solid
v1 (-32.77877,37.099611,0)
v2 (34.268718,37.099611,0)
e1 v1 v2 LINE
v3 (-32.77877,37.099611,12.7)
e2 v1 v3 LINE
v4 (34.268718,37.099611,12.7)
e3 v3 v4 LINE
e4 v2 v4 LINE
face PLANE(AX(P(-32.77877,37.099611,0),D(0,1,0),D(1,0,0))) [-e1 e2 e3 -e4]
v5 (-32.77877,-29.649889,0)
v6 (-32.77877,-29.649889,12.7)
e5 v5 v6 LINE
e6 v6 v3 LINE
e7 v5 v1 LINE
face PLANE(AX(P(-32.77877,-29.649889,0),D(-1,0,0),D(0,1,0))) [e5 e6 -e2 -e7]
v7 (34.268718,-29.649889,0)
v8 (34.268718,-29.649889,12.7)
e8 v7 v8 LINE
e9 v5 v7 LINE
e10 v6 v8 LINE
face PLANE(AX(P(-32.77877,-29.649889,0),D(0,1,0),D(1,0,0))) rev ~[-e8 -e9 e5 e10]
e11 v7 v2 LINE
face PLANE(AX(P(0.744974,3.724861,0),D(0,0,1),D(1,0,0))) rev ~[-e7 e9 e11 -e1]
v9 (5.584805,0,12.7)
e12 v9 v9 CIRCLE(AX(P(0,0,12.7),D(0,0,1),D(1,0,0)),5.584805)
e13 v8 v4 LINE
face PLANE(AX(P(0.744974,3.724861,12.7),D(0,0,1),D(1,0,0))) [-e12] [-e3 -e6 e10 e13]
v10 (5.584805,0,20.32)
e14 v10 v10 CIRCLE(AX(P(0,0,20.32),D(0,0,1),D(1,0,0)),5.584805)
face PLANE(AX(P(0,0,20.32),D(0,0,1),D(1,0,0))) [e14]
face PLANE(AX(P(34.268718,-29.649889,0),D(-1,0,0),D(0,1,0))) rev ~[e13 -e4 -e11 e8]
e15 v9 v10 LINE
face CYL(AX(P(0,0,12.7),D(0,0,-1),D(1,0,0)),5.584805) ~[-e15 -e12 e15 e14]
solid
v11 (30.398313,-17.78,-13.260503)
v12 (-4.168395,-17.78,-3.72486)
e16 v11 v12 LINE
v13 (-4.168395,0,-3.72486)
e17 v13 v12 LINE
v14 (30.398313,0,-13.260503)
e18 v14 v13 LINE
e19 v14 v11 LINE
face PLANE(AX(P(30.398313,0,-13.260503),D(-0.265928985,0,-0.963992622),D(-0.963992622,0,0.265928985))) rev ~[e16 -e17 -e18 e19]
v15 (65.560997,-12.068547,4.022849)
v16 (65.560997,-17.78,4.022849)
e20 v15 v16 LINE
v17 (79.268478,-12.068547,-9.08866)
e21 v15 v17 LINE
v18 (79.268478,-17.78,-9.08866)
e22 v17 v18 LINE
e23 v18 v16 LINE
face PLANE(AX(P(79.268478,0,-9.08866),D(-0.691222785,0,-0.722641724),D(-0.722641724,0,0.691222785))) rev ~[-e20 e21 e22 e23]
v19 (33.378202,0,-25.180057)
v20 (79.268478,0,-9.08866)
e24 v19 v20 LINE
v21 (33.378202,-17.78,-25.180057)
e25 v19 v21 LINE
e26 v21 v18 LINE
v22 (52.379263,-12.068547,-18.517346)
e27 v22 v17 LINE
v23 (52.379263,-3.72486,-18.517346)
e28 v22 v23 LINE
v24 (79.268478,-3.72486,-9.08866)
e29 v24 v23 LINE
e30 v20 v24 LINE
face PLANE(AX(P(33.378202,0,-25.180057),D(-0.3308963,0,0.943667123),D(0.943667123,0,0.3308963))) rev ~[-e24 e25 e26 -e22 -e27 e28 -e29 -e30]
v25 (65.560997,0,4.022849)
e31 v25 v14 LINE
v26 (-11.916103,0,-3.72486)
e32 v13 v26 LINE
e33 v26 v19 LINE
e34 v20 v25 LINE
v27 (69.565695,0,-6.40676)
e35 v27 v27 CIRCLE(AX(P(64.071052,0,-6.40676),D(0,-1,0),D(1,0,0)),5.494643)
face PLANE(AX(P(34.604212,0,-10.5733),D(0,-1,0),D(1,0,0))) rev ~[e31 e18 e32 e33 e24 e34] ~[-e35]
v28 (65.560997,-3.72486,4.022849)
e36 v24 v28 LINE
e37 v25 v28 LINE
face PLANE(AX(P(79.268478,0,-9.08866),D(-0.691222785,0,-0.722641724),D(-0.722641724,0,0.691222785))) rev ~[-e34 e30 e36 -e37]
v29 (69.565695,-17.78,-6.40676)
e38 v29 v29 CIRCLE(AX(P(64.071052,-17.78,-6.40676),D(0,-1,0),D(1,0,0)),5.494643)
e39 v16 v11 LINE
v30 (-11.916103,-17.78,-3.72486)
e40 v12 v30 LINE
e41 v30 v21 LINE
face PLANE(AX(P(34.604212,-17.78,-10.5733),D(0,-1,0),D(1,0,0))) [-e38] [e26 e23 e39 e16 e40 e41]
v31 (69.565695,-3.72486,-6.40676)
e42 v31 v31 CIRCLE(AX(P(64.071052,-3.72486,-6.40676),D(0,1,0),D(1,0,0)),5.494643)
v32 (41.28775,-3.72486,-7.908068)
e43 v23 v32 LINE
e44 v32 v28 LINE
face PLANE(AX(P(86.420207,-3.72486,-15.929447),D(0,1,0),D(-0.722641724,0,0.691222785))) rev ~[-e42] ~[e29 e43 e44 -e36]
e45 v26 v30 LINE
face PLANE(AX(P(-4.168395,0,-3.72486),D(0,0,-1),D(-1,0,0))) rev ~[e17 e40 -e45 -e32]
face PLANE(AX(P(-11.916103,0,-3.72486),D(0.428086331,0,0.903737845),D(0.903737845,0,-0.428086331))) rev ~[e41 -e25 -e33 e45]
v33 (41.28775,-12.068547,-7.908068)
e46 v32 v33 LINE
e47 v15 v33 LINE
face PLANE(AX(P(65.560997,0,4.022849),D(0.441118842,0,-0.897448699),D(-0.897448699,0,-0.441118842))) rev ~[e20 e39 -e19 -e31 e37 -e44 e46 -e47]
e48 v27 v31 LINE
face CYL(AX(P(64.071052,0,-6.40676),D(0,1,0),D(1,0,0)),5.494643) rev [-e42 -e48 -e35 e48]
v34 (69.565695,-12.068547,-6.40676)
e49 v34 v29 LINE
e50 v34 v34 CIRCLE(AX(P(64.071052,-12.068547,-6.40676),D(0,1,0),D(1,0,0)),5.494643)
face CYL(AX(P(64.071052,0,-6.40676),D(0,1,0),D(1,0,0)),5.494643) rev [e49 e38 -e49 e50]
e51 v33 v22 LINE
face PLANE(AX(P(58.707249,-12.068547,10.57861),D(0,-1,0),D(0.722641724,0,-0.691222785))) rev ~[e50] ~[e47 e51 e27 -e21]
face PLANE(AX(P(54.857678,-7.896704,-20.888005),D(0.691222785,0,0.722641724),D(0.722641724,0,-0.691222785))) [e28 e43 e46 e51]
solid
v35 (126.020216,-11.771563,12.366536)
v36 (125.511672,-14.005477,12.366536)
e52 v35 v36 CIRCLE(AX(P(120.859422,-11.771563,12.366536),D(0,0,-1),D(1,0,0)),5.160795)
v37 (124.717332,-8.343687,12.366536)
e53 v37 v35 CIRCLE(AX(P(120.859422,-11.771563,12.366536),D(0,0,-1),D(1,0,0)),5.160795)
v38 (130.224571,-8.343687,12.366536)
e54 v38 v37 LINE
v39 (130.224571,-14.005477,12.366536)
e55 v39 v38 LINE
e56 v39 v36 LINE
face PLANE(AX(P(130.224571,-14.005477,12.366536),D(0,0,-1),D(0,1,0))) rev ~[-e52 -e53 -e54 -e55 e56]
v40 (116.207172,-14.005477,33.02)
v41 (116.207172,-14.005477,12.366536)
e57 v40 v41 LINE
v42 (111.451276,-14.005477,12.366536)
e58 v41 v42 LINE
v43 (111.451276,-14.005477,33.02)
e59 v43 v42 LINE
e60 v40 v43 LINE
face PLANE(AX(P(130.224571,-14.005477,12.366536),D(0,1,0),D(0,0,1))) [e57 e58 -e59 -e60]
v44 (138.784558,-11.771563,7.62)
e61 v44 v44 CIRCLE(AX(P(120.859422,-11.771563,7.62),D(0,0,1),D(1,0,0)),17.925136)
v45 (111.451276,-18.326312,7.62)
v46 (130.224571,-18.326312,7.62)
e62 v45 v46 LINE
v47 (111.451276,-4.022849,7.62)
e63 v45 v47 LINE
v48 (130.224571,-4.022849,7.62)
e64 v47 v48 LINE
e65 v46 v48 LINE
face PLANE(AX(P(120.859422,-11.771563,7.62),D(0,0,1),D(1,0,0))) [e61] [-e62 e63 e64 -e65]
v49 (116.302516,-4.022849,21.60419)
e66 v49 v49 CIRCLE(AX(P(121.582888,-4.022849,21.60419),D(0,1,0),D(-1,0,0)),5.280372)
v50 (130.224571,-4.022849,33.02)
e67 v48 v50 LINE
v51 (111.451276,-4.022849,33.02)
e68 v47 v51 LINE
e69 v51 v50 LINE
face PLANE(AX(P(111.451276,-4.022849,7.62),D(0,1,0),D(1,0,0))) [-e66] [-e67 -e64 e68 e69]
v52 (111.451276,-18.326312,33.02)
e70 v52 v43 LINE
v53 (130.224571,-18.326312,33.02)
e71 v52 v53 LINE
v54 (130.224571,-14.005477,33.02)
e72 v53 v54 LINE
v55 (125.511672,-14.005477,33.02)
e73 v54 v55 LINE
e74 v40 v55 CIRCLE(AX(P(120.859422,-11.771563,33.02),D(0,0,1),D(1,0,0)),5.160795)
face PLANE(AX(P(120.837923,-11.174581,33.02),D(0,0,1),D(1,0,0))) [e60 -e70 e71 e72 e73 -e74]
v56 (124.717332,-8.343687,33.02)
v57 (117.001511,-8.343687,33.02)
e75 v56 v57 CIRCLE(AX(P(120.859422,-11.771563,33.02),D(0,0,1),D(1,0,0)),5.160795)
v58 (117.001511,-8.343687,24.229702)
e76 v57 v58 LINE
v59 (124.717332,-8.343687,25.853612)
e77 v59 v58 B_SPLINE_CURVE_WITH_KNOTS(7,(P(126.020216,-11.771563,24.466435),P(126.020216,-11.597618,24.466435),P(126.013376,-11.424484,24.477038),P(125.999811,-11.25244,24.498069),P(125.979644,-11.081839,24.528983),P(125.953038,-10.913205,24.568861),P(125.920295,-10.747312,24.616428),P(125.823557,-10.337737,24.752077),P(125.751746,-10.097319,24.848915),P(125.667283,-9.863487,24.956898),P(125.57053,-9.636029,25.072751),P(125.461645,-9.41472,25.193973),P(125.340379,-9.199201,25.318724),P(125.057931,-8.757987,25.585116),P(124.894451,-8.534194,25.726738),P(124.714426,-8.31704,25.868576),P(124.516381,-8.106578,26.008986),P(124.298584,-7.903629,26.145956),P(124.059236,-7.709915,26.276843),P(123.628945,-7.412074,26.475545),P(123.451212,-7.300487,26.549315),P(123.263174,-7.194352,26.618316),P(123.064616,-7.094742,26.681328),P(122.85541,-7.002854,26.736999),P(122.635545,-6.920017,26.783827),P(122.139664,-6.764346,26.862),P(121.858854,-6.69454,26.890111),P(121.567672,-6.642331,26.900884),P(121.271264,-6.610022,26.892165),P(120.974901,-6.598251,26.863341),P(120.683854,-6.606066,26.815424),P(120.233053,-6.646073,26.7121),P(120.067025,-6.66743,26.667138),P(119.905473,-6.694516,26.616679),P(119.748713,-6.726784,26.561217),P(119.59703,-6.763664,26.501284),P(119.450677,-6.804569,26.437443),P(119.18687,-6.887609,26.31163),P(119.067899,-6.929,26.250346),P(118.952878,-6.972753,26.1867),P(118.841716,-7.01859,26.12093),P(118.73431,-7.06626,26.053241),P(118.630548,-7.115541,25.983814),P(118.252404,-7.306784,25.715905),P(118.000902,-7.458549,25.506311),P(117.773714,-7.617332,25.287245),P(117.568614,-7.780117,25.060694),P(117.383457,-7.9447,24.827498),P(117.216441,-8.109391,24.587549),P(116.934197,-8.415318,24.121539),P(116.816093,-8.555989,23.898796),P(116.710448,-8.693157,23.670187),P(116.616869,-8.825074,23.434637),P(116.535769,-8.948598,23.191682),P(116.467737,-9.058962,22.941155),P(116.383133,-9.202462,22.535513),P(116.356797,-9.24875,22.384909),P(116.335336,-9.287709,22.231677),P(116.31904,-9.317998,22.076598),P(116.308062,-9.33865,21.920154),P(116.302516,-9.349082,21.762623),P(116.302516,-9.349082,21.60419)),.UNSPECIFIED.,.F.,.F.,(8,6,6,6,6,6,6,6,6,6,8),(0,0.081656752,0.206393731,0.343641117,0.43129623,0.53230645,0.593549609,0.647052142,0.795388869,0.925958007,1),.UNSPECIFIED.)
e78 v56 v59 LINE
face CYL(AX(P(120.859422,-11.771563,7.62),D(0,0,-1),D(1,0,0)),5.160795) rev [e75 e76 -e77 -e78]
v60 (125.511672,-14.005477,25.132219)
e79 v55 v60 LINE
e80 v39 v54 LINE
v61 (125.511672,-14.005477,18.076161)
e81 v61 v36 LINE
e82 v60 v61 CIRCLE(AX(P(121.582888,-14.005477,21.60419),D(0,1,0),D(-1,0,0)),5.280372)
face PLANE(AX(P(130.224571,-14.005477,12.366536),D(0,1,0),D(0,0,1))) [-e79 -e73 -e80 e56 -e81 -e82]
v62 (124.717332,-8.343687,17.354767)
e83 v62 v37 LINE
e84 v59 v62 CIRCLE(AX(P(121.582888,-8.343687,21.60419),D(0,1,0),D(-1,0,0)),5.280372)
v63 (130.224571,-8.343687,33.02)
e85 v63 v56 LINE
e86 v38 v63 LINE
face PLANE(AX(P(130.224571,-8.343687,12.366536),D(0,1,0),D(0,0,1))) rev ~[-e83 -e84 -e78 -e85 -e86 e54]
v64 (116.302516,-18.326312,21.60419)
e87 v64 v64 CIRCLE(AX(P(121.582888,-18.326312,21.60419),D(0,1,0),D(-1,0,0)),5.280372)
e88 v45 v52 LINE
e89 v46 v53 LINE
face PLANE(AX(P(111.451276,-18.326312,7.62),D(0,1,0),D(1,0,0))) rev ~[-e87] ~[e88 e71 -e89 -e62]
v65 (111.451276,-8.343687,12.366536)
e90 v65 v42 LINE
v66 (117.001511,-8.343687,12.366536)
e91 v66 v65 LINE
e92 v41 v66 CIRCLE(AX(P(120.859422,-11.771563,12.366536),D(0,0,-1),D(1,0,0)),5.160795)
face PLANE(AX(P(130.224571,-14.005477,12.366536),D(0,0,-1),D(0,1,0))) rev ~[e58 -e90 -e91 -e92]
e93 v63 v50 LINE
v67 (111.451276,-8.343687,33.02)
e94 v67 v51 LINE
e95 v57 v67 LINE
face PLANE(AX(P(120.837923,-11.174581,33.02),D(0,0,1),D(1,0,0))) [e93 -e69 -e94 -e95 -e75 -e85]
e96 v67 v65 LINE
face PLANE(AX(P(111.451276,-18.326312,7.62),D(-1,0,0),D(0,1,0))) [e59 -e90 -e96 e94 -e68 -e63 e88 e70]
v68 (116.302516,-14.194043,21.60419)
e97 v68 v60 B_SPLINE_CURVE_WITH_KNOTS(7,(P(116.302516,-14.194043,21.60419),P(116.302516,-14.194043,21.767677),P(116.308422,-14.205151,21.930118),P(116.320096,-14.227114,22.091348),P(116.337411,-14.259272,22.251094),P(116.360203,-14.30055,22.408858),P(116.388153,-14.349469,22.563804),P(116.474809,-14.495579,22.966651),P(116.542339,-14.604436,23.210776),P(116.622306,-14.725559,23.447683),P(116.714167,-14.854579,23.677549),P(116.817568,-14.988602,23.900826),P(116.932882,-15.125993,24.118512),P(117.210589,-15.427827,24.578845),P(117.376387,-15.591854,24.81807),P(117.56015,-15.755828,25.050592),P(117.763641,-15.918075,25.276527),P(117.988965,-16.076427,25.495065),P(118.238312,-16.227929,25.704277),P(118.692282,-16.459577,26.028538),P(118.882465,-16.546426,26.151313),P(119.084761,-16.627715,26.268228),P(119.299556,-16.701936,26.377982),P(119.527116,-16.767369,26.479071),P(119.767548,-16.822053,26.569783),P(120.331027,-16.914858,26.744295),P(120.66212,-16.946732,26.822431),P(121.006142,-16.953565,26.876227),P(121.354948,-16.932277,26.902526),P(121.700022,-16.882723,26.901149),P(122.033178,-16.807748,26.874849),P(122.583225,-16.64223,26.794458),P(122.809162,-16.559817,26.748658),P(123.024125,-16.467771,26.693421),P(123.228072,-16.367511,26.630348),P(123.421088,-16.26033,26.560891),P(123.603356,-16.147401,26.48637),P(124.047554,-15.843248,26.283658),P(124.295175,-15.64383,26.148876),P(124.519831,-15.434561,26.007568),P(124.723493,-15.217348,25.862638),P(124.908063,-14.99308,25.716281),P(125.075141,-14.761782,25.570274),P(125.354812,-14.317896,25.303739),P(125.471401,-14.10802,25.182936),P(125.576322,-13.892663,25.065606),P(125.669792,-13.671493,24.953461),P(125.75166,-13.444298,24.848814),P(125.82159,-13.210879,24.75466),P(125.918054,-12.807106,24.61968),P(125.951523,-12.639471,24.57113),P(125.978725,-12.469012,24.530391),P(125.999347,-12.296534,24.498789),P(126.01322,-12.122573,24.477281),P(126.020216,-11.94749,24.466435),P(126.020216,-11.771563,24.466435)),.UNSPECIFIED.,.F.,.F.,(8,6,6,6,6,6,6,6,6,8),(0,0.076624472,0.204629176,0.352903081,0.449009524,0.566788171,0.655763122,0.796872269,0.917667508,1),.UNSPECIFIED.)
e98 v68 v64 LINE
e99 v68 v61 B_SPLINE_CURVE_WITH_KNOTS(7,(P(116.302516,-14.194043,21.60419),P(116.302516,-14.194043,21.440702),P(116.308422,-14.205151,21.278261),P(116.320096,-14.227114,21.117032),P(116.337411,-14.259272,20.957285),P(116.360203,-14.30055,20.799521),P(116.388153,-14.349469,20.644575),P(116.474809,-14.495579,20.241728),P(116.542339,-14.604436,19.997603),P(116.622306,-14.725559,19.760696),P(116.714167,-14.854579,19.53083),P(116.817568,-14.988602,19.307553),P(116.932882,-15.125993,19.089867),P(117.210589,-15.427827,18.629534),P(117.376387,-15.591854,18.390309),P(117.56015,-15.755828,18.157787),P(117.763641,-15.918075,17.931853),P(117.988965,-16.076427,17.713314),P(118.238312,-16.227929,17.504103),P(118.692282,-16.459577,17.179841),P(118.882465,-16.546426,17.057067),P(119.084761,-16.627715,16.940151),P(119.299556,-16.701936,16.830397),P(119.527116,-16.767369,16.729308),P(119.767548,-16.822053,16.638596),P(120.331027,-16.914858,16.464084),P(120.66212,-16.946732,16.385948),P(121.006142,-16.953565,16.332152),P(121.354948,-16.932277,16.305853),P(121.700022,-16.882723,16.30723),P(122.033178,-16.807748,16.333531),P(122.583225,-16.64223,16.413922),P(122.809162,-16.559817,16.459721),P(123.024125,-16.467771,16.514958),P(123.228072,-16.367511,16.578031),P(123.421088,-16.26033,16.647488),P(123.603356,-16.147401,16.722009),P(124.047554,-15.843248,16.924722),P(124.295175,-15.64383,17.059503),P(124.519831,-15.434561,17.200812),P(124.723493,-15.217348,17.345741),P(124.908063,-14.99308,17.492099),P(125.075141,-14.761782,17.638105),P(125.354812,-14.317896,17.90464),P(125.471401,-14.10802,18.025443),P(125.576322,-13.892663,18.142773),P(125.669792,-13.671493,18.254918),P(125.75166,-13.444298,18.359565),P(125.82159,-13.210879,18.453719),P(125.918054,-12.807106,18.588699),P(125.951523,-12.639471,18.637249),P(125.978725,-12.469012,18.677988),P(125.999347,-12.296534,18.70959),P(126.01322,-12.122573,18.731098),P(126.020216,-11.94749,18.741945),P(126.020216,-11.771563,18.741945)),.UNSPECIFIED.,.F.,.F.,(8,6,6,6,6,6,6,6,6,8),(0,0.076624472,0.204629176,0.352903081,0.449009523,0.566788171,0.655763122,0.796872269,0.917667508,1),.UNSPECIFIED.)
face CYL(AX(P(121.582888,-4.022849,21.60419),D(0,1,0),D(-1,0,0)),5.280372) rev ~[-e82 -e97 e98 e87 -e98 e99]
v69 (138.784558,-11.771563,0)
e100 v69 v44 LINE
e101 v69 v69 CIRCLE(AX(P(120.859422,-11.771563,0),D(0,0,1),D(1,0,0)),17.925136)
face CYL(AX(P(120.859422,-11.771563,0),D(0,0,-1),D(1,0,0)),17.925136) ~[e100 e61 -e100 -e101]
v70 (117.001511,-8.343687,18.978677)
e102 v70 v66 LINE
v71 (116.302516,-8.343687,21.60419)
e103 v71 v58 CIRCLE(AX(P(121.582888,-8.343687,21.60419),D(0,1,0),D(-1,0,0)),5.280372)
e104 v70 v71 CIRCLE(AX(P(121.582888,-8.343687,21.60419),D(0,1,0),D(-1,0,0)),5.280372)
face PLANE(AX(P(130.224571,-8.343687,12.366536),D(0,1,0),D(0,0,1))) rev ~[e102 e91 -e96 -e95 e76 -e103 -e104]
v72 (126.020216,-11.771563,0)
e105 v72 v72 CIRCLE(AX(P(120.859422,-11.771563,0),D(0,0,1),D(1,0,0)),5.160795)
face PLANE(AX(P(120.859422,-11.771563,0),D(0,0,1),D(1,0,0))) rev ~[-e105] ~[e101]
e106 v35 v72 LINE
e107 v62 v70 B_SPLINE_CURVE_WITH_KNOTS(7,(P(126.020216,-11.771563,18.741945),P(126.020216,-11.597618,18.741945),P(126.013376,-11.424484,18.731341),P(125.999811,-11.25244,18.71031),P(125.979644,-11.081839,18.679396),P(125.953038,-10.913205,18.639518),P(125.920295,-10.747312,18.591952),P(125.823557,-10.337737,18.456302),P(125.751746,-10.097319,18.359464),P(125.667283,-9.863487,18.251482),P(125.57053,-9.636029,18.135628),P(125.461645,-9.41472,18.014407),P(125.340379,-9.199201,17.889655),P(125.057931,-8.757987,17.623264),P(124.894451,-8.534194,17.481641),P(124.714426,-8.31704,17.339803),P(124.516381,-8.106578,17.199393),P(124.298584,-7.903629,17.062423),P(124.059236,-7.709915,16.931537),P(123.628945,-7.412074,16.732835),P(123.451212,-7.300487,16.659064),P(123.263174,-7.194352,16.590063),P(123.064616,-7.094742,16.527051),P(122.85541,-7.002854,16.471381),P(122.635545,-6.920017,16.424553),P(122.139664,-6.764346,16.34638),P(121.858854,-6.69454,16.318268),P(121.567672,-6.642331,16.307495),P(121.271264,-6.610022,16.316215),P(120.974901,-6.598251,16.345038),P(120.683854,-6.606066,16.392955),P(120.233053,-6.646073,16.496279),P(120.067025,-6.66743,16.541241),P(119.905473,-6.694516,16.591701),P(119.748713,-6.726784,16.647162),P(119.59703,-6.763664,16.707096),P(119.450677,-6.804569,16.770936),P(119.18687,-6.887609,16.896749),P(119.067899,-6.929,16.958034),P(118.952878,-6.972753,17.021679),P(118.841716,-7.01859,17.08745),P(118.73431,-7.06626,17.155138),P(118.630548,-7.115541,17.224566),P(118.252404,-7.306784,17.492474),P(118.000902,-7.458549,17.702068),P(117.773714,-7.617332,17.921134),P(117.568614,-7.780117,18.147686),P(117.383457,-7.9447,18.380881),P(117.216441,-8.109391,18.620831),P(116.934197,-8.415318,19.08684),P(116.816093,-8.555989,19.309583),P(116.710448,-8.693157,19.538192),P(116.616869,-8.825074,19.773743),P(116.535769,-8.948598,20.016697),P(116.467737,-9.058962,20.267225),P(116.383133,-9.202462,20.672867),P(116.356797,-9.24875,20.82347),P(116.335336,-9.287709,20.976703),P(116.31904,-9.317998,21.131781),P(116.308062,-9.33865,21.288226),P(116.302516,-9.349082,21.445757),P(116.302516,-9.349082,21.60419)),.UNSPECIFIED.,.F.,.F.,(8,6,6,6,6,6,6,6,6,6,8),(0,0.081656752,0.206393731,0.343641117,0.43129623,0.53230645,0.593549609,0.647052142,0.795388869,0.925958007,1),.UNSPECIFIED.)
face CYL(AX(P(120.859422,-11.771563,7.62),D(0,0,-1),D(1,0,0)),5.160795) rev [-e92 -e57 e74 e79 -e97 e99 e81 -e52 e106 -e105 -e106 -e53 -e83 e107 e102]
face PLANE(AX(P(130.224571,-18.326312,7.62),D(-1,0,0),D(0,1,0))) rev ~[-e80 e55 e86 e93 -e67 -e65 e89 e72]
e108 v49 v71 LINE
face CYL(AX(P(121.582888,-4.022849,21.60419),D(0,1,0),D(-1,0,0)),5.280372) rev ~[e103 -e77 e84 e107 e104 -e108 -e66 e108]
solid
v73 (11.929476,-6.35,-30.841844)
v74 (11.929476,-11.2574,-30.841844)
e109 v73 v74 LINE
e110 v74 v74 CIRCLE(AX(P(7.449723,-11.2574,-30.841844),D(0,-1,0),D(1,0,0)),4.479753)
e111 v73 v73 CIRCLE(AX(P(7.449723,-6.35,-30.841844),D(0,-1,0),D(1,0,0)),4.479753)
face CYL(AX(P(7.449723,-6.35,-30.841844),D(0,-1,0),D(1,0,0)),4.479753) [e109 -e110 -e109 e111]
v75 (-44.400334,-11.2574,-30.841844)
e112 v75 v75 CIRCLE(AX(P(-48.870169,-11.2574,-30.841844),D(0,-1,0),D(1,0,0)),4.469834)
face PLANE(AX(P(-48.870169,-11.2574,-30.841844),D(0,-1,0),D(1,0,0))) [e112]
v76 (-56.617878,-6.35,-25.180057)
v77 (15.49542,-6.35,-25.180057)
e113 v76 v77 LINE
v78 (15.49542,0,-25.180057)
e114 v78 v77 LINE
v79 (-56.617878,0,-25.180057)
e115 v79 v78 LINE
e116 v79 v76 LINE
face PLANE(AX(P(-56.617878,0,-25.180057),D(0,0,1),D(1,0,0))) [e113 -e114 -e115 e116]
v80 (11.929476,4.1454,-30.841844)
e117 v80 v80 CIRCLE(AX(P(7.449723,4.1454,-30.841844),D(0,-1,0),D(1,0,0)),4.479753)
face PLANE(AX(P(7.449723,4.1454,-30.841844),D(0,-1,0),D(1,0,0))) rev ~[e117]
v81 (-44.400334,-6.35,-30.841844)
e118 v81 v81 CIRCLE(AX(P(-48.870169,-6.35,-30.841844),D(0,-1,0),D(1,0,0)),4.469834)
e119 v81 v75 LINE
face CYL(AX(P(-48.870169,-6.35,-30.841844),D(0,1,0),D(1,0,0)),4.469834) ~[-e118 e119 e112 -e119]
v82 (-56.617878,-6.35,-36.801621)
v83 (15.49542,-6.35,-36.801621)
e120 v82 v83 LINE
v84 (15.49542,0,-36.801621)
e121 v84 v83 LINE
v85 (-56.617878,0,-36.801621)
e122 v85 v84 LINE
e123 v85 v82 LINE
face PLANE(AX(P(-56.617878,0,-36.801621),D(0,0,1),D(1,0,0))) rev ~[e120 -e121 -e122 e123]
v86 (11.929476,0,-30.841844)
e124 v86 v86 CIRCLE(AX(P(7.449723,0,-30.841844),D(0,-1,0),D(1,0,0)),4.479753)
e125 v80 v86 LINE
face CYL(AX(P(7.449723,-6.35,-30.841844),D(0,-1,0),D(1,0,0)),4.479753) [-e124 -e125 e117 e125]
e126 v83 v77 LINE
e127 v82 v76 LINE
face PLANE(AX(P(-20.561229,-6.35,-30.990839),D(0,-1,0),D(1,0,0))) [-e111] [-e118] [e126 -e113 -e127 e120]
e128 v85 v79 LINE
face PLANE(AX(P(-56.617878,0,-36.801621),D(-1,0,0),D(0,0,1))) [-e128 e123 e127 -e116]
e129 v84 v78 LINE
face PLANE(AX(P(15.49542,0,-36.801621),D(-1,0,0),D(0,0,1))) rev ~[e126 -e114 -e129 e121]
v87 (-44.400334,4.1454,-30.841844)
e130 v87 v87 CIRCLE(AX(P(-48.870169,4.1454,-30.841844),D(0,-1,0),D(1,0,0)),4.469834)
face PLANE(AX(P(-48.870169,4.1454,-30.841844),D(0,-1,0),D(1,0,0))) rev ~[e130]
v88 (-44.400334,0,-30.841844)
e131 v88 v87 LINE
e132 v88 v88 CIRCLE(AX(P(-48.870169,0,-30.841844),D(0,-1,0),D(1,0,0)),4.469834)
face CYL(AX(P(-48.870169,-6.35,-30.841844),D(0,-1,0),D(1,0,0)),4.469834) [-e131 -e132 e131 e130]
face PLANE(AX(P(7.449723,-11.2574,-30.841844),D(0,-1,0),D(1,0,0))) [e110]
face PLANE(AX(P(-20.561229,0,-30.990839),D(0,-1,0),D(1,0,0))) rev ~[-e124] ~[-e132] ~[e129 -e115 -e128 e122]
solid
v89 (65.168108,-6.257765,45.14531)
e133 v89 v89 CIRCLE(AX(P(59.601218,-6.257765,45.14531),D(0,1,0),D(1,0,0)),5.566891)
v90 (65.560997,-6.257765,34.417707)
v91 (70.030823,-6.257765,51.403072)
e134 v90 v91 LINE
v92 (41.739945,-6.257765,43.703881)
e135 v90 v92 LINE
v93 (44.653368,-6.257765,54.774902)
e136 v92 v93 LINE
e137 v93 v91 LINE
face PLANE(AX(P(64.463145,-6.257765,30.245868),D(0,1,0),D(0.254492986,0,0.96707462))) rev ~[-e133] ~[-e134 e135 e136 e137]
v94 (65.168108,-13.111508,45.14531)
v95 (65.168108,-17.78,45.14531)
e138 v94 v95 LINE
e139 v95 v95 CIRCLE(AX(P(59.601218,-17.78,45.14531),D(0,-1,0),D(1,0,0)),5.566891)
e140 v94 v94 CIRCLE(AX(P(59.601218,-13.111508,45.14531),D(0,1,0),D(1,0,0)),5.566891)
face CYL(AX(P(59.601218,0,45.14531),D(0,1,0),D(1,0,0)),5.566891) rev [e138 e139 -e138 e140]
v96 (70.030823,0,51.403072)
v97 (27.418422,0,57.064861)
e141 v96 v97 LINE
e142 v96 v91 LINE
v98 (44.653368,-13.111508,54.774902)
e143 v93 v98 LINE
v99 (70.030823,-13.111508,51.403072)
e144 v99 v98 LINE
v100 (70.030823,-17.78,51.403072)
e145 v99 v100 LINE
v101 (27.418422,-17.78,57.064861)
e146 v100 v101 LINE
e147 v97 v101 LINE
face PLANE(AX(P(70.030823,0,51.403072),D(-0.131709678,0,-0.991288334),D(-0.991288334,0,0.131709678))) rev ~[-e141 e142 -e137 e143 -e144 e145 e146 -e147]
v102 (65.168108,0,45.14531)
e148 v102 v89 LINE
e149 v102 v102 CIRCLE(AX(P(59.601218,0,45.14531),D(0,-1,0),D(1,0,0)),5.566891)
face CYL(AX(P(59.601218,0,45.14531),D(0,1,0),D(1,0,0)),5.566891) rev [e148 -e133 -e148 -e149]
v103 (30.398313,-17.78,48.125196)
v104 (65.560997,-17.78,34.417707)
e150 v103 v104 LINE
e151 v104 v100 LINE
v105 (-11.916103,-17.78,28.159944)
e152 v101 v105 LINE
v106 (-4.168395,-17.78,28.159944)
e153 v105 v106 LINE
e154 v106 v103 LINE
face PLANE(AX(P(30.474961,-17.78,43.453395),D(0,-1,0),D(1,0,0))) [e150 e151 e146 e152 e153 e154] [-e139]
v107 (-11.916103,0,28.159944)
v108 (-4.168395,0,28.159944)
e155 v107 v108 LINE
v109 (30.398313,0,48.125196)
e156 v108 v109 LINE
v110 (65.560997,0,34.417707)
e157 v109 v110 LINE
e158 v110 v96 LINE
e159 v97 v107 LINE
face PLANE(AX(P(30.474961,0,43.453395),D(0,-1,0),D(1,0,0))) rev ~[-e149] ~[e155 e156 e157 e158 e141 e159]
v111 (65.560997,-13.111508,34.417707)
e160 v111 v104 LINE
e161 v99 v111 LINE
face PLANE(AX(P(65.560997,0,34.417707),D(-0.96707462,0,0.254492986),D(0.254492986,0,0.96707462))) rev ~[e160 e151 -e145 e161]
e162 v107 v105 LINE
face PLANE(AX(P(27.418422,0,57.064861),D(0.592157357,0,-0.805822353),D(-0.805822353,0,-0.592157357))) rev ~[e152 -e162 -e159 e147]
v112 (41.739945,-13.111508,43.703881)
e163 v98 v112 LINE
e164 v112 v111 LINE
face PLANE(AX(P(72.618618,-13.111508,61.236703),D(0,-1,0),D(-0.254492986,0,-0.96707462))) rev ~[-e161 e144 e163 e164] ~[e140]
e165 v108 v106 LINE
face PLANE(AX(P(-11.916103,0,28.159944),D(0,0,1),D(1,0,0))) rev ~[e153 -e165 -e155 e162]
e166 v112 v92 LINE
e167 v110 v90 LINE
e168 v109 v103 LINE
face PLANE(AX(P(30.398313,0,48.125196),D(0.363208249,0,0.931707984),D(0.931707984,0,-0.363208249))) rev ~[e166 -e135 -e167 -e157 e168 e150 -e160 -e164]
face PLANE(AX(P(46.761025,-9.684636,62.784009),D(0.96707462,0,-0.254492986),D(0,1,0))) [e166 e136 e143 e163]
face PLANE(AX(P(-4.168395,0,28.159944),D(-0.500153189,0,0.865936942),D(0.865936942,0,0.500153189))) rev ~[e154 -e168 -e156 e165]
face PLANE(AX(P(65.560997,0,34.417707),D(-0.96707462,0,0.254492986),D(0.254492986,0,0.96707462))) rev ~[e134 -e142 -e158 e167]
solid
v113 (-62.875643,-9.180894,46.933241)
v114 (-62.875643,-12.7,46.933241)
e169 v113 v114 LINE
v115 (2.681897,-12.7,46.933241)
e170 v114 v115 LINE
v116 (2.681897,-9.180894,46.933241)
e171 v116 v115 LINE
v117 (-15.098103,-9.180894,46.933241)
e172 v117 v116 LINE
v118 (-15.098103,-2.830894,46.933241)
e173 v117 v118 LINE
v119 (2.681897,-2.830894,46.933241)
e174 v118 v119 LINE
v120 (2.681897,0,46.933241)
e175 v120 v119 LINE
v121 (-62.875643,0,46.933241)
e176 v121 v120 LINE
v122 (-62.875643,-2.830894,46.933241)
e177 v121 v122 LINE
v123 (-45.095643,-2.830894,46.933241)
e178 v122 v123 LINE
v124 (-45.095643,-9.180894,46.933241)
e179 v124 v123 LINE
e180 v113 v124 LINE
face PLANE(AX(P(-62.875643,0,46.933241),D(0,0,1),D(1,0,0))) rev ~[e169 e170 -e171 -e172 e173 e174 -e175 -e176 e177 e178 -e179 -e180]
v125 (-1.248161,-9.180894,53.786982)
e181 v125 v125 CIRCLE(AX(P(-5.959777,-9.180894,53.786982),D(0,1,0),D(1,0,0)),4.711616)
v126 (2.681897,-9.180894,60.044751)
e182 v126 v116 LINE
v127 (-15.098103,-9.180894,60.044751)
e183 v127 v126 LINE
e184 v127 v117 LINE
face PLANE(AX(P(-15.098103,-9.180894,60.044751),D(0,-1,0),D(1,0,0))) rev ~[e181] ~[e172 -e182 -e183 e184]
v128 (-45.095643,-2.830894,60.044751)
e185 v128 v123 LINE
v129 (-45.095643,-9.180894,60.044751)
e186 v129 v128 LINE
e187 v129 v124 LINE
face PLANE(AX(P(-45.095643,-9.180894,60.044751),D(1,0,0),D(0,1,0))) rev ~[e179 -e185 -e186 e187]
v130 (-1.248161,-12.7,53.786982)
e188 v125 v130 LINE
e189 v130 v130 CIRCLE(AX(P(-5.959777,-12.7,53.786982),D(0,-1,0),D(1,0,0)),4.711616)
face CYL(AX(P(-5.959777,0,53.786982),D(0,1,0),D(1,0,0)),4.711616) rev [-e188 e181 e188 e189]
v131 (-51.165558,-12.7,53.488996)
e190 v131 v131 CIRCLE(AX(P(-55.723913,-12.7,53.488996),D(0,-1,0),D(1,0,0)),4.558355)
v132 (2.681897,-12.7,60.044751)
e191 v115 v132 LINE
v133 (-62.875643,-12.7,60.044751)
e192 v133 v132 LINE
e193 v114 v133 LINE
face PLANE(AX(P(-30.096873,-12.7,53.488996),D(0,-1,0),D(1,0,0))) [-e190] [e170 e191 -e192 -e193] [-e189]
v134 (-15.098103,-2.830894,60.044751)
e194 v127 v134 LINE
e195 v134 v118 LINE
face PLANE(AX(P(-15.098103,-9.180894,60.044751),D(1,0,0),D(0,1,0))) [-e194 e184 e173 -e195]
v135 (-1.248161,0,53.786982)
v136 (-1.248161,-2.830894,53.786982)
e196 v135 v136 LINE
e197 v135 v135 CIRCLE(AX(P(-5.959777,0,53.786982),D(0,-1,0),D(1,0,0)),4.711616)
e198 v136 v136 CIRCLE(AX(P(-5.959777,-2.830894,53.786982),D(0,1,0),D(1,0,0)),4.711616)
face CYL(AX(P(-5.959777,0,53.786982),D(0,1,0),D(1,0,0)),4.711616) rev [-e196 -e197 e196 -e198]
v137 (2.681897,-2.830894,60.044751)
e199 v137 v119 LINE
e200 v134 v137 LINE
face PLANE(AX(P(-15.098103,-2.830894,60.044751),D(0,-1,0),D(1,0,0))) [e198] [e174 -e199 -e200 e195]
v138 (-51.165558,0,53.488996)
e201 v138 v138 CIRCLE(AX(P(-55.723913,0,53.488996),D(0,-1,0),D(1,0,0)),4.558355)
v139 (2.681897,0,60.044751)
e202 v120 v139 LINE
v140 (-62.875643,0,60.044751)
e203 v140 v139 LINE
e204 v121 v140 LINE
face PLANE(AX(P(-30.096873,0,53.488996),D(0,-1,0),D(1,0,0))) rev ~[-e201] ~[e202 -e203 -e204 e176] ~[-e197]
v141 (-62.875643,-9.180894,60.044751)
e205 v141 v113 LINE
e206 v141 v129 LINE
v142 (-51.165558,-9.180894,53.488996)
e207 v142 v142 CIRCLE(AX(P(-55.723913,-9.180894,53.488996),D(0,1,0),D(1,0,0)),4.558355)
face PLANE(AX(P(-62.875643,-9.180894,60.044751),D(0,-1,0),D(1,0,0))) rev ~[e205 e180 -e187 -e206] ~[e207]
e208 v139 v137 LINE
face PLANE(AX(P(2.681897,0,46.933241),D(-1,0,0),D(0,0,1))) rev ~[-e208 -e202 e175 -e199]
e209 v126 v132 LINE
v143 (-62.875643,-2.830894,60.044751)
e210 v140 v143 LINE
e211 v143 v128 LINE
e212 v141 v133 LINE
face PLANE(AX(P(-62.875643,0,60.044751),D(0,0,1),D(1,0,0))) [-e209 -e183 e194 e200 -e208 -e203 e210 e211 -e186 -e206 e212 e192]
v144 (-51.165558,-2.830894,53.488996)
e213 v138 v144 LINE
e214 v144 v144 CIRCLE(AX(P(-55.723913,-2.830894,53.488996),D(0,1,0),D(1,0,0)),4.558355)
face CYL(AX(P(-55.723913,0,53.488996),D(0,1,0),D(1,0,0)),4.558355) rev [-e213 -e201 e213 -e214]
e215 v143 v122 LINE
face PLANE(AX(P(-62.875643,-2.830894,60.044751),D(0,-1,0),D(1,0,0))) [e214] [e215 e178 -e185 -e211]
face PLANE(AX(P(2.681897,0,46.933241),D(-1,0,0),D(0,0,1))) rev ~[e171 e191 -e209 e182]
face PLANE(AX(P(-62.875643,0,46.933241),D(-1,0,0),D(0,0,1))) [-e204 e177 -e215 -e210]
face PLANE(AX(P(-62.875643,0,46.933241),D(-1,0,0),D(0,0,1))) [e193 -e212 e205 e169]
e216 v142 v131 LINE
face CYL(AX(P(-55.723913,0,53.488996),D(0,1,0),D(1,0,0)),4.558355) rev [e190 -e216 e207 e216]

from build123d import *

# Parameters (mm, degrees)
F0_W      = 67.0474879444
F0_H      = 66.7495001107
F1_DEPTH  = 12.7
F2_W      = 65.5575403944
F2_H      = 13.1115093827
F2_R      = 4.5583548695
F2_R_2    = 4.711616035
F3_DEPTH  = 12.7
F4_W      = 17.78
F4_H      = 6.35
F5_DEPTH  = 25.4
F6_W      = 72.113298811
F6_H      = 11.6215646267
F7_DEPTH  = 6.35
F8_R      = 4.4698342681
F8_R_2    = 4.4797530181
F9_DEPTH  = 18.1154
F10_R     = 5.5848049297
F11_DEPTH = 7.62
F12_R     = 17.9251364519
F12_R_2   = 5.1607945496
F13_DEPTH = 7.62
F14_W     = 18.7732949853
F14_H     = 14.3034630455
F14_R     = 5.1607945496
F15_DEPTH = 25.4
F16_W     = 5.6617893279
F16_H     = 20.6534639266
F17_DEPTH = 25.4
F18_R     = 5.2803719503
F19_DEPTH = 25.4
F20_DEPTH = 7.62
F21_DEPTH = 17.78
F22_DEPTH = 13.208
F23_DEPTH = 13.208
F24_DEPTH = 7.62
F25_R     = 5.566890583
F26_DEPTH = 17.78
F25_R_2   = 5.4946431506
F27_W     = 6.8537420593
F27_H     = 10.1684303929
F27_H_2   = 17.5636542543
F27_H_3   = 4.3138757791
F28_DEPTH = 25.4
F29_W     = 18.9685716476
F29_H     = 8.3436870482
F29_W_2   = 9.4842951334
F29_W_3   = 9.8966461836
F30_DEPTH = 25.4


with BuildPart() as f1:
    # F0 (on Top) → F1 (new body)
    with BuildSketch(Plane.XY):
        with Locations((0.7449742407, 3.7248609588)):
            Rectangle(F0_W, F0_H)
    extrude(amount=F1_DEPTH)

    # F10 (on face) → F11 (join)
    with BuildSketch(Plane.XY.offset(12.7)):
        Circle(F10_R)
    extrude(amount=F11_DEPTH)



with BuildPart() as f3:
    # F2 (on Front) → F3 (new body)
    with BuildSketch(Plane.XZ):
        with Locations((-30.0968731754, 53.4889958799)):
            Rectangle(F2_W, F2_H)
        with Locations((-55.7239130139, 53.4889958799)):
            Circle(F2_R, mode=Mode.SUBTRACT)
        with Locations((-5.9597766958, 53.7869818509)):
            Circle(F2_R_2, mode=Mode.SUBTRACT)
    extrude(amount=F3_DEPTH)

    # F4 (on face) → F5 (cut)
    with BuildSketch(Plane.XY.offset(60.0447505713)):
        with Locations((-53.9856433725, -6.0058937326)):
            Rectangle(F4_W, F4_H)
        with Locations((-6.2081029782, -6.0058937326)):
            Rectangle(F4_W, F4_H)
    extrude(amount=-F5_DEPTH, mode=Mode.SUBTRACT)


with BuildPart() as f7:
    # F6 (on Front) → F7 (new body)
    with BuildSketch(Plane.XZ):
        with Locations((-20.5612289719, -30.9908390045)):
            Rectangle(F6_W, F6_H)
    extrude(amount=F7_DEPTH)

    # F8 (on face) → F9 (join, symmetric)
    with BuildSketch(Plane.XZ.offset(6.35)):
        with Locations((-48.8701686263, -30.8418441564)):
            Circle(F8_R)
        with Locations((7.4497233145, -30.8418441564)):
            Circle(F8_R_2)
    extrude(amount=F9_DEPTH, both=True)

    # F20 (cut): a face of the model
    f20_faces = [f7.faces().sort_by_distance(p)[0] for p in [
        (7.4497233145, 11.7654, -30.8418441564),
    ]]
    extrude(f20_faces, amount=-F20_DEPTH, mode=Mode.SUBTRACT)


with BuildPart() as f13:
    # F12 (on Top) → F13 (new body)
    with BuildSketch(Plane.XY):
        with Locations((120.8594217896, -11.7715625092)):
            Circle(F12_R)
        with Locations((120.8594217896, -11.7715625092)):
            Circle(F12_R_2, mode=Mode.SUBTRACT)
    extrude(amount=F13_DEPTH)

    # F14 (on face) → F15 (join)
    with BuildSketch(Plane.XY.offset(7.62)):
        with Locations((120.8379231393, -11.1745807808)):
            Rectangle(F14_W, F14_H)
        with Locations((120.8594217896, -11.7715625092)):
            Circle(F14_R, mode=Mode.SUBTRACT)
    extrude(amount=F15_DEPTH)

    # F16 (on face) → F17 (cut)
    with BuildSketch(Plane.YZ.offset(130.224570632)):
        with Locations((-11.1745819449, 22.6932680367)):
            Rectangle(F16_W, F16_H)
    extrude(amount=-F17_DEPTH, mode=Mode.SUBTRACT)

    # F18 (on face) → F19 (cut)
    with BuildSketch(Plane(origin=(0, -4.022849258, 0), x_dir=(-1, 0, 0), z_dir=(0, 1, 0))):
        with Locations((-121.5828880668, 21.6041896492)):
            Circle(F18_R)
    extrude(amount=-F19_DEPTH, mode=Mode.SUBTRACT)


with BuildPart() as f1_1:
    add(f1.part)
    # F21 (cut): a face of the model
    f21_faces = [f7.part.faces().sort_by_distance(p)[0] for p in [
        (7.4497233145, -24.4654, -30.8418441564),
    ]]
    extrude(f21_faces, amount=F21_DEPTH, mode=Mode.SUBTRACT)


with BuildPart() as f7_1:
    add(f7.part)

    # F22 (cut): a face of the model
    f22_faces = [f7_1.faces().sort_by_distance(p)[0] for p in [
        (7.4497233145, -24.4654, -30.8418441564),
    ]]
    extrude(f22_faces, amount=-F22_DEPTH, mode=Mode.SUBTRACT)

    # F23 (cut): a face of the model
    f23_faces = [f7_1.faces().sort_by_distance(p)[0] for p in [
        (-48.8701686263, -24.4654, -30.8418441564),
    ]]
    extrude(f23_faces, amount=-F23_DEPTH, mode=Mode.SUBTRACT)

    # F24 (cut): a face of the model
    f24_faces = [f7_1.faces().sort_by_distance(p)[0] for p in [
        (-48.8701686263, 11.7654, -30.8418441564),
    ]]
    extrude(f24_faces, amount=-F24_DEPTH, mode=Mode.SUBTRACT)


with BuildPart() as f26:
    # F25 (on Front) → F26 (new body)
    with BuildSketch(Plane.XZ):
        Polygon((65.5609965324, 34.417707473), (70.03082335, 51.4030717313), (27.4184215814, 57.0648610592), (-11.9161028415, 28.1599443406), (-4.168394953, 28.1599443406), (30.3983129561, 48.1251962483), align=None)
        with Locations((59.6012175083, 45.1453104615)):
            Circle(F25_R, mode=Mode.SUBTRACT)
    extrude(amount=F26_DEPTH)

    # F27 (on face) → F28 (cut)
    with BuildSketch(Plane(origin=(52.8441588548, 0, -13.9063392934), x_dir=(0, 1, 0), z_dir=(0.9670746197, 0, -0.2544929861))):
        with Locations((-9.6846364904, 72.6171745931)):
            Rectangle(F27_W, F27_H)
        with Locations((-9.6846364904, 58.7511322695)):
            Rectangle(F27_W, F27_H_2)
        with Locations((-9.6846364904, 47.8123672528)):
            Rectangle(F27_W, F27_H_3)
    extrude(amount=-F28_DEPTH, mode=Mode.SUBTRACT)


with BuildPart() as f26b:
    # F25 (on Front) → F26, piece 2 (new body)
    with BuildSketch(Plane.XZ):
        Polygon((79.2684778571, -9.088659659), (65.5609965324, 4.022849258), (30.3983129561, -13.2605032995), (-4.168394953, -3.7248602603), (-11.9161028415, -3.7248602603), (33.3782024682, -25.1800566912), align=None)
        with Locations((64.0710517764, -6.4067598432)):
            Circle(F25_R_2, mode=Mode.SUBTRACT)
    extrude(amount=F26_DEPTH)

    # F29 (on face) → F30 (cut)
    with BuildSketch(Plane(origin=(33.33375797, 0, 34.8489153876), x_dir=(0.7226417244, 0, -0.6912227848), z_dir=(0.6912227848, 0, 0.7226417244))):
        with Locations((54.0807123441, -7.8967037844)):
            Rectangle(F29_W, F29_H)
        with Locations((39.8542789537, -7.8967037844)):
            Rectangle(F29_W_2, F29_H)
        with Locations((68.5133212597, -7.8967037844)):
            Rectangle(F29_W_3, F29_H)
    extrude(amount=-F30_DEPTH, mode=Mode.SUBTRACT)


solid = Compound([f3.part, f13.part, f1_1.part, f7_1.part, f26.part, f26b.part])
